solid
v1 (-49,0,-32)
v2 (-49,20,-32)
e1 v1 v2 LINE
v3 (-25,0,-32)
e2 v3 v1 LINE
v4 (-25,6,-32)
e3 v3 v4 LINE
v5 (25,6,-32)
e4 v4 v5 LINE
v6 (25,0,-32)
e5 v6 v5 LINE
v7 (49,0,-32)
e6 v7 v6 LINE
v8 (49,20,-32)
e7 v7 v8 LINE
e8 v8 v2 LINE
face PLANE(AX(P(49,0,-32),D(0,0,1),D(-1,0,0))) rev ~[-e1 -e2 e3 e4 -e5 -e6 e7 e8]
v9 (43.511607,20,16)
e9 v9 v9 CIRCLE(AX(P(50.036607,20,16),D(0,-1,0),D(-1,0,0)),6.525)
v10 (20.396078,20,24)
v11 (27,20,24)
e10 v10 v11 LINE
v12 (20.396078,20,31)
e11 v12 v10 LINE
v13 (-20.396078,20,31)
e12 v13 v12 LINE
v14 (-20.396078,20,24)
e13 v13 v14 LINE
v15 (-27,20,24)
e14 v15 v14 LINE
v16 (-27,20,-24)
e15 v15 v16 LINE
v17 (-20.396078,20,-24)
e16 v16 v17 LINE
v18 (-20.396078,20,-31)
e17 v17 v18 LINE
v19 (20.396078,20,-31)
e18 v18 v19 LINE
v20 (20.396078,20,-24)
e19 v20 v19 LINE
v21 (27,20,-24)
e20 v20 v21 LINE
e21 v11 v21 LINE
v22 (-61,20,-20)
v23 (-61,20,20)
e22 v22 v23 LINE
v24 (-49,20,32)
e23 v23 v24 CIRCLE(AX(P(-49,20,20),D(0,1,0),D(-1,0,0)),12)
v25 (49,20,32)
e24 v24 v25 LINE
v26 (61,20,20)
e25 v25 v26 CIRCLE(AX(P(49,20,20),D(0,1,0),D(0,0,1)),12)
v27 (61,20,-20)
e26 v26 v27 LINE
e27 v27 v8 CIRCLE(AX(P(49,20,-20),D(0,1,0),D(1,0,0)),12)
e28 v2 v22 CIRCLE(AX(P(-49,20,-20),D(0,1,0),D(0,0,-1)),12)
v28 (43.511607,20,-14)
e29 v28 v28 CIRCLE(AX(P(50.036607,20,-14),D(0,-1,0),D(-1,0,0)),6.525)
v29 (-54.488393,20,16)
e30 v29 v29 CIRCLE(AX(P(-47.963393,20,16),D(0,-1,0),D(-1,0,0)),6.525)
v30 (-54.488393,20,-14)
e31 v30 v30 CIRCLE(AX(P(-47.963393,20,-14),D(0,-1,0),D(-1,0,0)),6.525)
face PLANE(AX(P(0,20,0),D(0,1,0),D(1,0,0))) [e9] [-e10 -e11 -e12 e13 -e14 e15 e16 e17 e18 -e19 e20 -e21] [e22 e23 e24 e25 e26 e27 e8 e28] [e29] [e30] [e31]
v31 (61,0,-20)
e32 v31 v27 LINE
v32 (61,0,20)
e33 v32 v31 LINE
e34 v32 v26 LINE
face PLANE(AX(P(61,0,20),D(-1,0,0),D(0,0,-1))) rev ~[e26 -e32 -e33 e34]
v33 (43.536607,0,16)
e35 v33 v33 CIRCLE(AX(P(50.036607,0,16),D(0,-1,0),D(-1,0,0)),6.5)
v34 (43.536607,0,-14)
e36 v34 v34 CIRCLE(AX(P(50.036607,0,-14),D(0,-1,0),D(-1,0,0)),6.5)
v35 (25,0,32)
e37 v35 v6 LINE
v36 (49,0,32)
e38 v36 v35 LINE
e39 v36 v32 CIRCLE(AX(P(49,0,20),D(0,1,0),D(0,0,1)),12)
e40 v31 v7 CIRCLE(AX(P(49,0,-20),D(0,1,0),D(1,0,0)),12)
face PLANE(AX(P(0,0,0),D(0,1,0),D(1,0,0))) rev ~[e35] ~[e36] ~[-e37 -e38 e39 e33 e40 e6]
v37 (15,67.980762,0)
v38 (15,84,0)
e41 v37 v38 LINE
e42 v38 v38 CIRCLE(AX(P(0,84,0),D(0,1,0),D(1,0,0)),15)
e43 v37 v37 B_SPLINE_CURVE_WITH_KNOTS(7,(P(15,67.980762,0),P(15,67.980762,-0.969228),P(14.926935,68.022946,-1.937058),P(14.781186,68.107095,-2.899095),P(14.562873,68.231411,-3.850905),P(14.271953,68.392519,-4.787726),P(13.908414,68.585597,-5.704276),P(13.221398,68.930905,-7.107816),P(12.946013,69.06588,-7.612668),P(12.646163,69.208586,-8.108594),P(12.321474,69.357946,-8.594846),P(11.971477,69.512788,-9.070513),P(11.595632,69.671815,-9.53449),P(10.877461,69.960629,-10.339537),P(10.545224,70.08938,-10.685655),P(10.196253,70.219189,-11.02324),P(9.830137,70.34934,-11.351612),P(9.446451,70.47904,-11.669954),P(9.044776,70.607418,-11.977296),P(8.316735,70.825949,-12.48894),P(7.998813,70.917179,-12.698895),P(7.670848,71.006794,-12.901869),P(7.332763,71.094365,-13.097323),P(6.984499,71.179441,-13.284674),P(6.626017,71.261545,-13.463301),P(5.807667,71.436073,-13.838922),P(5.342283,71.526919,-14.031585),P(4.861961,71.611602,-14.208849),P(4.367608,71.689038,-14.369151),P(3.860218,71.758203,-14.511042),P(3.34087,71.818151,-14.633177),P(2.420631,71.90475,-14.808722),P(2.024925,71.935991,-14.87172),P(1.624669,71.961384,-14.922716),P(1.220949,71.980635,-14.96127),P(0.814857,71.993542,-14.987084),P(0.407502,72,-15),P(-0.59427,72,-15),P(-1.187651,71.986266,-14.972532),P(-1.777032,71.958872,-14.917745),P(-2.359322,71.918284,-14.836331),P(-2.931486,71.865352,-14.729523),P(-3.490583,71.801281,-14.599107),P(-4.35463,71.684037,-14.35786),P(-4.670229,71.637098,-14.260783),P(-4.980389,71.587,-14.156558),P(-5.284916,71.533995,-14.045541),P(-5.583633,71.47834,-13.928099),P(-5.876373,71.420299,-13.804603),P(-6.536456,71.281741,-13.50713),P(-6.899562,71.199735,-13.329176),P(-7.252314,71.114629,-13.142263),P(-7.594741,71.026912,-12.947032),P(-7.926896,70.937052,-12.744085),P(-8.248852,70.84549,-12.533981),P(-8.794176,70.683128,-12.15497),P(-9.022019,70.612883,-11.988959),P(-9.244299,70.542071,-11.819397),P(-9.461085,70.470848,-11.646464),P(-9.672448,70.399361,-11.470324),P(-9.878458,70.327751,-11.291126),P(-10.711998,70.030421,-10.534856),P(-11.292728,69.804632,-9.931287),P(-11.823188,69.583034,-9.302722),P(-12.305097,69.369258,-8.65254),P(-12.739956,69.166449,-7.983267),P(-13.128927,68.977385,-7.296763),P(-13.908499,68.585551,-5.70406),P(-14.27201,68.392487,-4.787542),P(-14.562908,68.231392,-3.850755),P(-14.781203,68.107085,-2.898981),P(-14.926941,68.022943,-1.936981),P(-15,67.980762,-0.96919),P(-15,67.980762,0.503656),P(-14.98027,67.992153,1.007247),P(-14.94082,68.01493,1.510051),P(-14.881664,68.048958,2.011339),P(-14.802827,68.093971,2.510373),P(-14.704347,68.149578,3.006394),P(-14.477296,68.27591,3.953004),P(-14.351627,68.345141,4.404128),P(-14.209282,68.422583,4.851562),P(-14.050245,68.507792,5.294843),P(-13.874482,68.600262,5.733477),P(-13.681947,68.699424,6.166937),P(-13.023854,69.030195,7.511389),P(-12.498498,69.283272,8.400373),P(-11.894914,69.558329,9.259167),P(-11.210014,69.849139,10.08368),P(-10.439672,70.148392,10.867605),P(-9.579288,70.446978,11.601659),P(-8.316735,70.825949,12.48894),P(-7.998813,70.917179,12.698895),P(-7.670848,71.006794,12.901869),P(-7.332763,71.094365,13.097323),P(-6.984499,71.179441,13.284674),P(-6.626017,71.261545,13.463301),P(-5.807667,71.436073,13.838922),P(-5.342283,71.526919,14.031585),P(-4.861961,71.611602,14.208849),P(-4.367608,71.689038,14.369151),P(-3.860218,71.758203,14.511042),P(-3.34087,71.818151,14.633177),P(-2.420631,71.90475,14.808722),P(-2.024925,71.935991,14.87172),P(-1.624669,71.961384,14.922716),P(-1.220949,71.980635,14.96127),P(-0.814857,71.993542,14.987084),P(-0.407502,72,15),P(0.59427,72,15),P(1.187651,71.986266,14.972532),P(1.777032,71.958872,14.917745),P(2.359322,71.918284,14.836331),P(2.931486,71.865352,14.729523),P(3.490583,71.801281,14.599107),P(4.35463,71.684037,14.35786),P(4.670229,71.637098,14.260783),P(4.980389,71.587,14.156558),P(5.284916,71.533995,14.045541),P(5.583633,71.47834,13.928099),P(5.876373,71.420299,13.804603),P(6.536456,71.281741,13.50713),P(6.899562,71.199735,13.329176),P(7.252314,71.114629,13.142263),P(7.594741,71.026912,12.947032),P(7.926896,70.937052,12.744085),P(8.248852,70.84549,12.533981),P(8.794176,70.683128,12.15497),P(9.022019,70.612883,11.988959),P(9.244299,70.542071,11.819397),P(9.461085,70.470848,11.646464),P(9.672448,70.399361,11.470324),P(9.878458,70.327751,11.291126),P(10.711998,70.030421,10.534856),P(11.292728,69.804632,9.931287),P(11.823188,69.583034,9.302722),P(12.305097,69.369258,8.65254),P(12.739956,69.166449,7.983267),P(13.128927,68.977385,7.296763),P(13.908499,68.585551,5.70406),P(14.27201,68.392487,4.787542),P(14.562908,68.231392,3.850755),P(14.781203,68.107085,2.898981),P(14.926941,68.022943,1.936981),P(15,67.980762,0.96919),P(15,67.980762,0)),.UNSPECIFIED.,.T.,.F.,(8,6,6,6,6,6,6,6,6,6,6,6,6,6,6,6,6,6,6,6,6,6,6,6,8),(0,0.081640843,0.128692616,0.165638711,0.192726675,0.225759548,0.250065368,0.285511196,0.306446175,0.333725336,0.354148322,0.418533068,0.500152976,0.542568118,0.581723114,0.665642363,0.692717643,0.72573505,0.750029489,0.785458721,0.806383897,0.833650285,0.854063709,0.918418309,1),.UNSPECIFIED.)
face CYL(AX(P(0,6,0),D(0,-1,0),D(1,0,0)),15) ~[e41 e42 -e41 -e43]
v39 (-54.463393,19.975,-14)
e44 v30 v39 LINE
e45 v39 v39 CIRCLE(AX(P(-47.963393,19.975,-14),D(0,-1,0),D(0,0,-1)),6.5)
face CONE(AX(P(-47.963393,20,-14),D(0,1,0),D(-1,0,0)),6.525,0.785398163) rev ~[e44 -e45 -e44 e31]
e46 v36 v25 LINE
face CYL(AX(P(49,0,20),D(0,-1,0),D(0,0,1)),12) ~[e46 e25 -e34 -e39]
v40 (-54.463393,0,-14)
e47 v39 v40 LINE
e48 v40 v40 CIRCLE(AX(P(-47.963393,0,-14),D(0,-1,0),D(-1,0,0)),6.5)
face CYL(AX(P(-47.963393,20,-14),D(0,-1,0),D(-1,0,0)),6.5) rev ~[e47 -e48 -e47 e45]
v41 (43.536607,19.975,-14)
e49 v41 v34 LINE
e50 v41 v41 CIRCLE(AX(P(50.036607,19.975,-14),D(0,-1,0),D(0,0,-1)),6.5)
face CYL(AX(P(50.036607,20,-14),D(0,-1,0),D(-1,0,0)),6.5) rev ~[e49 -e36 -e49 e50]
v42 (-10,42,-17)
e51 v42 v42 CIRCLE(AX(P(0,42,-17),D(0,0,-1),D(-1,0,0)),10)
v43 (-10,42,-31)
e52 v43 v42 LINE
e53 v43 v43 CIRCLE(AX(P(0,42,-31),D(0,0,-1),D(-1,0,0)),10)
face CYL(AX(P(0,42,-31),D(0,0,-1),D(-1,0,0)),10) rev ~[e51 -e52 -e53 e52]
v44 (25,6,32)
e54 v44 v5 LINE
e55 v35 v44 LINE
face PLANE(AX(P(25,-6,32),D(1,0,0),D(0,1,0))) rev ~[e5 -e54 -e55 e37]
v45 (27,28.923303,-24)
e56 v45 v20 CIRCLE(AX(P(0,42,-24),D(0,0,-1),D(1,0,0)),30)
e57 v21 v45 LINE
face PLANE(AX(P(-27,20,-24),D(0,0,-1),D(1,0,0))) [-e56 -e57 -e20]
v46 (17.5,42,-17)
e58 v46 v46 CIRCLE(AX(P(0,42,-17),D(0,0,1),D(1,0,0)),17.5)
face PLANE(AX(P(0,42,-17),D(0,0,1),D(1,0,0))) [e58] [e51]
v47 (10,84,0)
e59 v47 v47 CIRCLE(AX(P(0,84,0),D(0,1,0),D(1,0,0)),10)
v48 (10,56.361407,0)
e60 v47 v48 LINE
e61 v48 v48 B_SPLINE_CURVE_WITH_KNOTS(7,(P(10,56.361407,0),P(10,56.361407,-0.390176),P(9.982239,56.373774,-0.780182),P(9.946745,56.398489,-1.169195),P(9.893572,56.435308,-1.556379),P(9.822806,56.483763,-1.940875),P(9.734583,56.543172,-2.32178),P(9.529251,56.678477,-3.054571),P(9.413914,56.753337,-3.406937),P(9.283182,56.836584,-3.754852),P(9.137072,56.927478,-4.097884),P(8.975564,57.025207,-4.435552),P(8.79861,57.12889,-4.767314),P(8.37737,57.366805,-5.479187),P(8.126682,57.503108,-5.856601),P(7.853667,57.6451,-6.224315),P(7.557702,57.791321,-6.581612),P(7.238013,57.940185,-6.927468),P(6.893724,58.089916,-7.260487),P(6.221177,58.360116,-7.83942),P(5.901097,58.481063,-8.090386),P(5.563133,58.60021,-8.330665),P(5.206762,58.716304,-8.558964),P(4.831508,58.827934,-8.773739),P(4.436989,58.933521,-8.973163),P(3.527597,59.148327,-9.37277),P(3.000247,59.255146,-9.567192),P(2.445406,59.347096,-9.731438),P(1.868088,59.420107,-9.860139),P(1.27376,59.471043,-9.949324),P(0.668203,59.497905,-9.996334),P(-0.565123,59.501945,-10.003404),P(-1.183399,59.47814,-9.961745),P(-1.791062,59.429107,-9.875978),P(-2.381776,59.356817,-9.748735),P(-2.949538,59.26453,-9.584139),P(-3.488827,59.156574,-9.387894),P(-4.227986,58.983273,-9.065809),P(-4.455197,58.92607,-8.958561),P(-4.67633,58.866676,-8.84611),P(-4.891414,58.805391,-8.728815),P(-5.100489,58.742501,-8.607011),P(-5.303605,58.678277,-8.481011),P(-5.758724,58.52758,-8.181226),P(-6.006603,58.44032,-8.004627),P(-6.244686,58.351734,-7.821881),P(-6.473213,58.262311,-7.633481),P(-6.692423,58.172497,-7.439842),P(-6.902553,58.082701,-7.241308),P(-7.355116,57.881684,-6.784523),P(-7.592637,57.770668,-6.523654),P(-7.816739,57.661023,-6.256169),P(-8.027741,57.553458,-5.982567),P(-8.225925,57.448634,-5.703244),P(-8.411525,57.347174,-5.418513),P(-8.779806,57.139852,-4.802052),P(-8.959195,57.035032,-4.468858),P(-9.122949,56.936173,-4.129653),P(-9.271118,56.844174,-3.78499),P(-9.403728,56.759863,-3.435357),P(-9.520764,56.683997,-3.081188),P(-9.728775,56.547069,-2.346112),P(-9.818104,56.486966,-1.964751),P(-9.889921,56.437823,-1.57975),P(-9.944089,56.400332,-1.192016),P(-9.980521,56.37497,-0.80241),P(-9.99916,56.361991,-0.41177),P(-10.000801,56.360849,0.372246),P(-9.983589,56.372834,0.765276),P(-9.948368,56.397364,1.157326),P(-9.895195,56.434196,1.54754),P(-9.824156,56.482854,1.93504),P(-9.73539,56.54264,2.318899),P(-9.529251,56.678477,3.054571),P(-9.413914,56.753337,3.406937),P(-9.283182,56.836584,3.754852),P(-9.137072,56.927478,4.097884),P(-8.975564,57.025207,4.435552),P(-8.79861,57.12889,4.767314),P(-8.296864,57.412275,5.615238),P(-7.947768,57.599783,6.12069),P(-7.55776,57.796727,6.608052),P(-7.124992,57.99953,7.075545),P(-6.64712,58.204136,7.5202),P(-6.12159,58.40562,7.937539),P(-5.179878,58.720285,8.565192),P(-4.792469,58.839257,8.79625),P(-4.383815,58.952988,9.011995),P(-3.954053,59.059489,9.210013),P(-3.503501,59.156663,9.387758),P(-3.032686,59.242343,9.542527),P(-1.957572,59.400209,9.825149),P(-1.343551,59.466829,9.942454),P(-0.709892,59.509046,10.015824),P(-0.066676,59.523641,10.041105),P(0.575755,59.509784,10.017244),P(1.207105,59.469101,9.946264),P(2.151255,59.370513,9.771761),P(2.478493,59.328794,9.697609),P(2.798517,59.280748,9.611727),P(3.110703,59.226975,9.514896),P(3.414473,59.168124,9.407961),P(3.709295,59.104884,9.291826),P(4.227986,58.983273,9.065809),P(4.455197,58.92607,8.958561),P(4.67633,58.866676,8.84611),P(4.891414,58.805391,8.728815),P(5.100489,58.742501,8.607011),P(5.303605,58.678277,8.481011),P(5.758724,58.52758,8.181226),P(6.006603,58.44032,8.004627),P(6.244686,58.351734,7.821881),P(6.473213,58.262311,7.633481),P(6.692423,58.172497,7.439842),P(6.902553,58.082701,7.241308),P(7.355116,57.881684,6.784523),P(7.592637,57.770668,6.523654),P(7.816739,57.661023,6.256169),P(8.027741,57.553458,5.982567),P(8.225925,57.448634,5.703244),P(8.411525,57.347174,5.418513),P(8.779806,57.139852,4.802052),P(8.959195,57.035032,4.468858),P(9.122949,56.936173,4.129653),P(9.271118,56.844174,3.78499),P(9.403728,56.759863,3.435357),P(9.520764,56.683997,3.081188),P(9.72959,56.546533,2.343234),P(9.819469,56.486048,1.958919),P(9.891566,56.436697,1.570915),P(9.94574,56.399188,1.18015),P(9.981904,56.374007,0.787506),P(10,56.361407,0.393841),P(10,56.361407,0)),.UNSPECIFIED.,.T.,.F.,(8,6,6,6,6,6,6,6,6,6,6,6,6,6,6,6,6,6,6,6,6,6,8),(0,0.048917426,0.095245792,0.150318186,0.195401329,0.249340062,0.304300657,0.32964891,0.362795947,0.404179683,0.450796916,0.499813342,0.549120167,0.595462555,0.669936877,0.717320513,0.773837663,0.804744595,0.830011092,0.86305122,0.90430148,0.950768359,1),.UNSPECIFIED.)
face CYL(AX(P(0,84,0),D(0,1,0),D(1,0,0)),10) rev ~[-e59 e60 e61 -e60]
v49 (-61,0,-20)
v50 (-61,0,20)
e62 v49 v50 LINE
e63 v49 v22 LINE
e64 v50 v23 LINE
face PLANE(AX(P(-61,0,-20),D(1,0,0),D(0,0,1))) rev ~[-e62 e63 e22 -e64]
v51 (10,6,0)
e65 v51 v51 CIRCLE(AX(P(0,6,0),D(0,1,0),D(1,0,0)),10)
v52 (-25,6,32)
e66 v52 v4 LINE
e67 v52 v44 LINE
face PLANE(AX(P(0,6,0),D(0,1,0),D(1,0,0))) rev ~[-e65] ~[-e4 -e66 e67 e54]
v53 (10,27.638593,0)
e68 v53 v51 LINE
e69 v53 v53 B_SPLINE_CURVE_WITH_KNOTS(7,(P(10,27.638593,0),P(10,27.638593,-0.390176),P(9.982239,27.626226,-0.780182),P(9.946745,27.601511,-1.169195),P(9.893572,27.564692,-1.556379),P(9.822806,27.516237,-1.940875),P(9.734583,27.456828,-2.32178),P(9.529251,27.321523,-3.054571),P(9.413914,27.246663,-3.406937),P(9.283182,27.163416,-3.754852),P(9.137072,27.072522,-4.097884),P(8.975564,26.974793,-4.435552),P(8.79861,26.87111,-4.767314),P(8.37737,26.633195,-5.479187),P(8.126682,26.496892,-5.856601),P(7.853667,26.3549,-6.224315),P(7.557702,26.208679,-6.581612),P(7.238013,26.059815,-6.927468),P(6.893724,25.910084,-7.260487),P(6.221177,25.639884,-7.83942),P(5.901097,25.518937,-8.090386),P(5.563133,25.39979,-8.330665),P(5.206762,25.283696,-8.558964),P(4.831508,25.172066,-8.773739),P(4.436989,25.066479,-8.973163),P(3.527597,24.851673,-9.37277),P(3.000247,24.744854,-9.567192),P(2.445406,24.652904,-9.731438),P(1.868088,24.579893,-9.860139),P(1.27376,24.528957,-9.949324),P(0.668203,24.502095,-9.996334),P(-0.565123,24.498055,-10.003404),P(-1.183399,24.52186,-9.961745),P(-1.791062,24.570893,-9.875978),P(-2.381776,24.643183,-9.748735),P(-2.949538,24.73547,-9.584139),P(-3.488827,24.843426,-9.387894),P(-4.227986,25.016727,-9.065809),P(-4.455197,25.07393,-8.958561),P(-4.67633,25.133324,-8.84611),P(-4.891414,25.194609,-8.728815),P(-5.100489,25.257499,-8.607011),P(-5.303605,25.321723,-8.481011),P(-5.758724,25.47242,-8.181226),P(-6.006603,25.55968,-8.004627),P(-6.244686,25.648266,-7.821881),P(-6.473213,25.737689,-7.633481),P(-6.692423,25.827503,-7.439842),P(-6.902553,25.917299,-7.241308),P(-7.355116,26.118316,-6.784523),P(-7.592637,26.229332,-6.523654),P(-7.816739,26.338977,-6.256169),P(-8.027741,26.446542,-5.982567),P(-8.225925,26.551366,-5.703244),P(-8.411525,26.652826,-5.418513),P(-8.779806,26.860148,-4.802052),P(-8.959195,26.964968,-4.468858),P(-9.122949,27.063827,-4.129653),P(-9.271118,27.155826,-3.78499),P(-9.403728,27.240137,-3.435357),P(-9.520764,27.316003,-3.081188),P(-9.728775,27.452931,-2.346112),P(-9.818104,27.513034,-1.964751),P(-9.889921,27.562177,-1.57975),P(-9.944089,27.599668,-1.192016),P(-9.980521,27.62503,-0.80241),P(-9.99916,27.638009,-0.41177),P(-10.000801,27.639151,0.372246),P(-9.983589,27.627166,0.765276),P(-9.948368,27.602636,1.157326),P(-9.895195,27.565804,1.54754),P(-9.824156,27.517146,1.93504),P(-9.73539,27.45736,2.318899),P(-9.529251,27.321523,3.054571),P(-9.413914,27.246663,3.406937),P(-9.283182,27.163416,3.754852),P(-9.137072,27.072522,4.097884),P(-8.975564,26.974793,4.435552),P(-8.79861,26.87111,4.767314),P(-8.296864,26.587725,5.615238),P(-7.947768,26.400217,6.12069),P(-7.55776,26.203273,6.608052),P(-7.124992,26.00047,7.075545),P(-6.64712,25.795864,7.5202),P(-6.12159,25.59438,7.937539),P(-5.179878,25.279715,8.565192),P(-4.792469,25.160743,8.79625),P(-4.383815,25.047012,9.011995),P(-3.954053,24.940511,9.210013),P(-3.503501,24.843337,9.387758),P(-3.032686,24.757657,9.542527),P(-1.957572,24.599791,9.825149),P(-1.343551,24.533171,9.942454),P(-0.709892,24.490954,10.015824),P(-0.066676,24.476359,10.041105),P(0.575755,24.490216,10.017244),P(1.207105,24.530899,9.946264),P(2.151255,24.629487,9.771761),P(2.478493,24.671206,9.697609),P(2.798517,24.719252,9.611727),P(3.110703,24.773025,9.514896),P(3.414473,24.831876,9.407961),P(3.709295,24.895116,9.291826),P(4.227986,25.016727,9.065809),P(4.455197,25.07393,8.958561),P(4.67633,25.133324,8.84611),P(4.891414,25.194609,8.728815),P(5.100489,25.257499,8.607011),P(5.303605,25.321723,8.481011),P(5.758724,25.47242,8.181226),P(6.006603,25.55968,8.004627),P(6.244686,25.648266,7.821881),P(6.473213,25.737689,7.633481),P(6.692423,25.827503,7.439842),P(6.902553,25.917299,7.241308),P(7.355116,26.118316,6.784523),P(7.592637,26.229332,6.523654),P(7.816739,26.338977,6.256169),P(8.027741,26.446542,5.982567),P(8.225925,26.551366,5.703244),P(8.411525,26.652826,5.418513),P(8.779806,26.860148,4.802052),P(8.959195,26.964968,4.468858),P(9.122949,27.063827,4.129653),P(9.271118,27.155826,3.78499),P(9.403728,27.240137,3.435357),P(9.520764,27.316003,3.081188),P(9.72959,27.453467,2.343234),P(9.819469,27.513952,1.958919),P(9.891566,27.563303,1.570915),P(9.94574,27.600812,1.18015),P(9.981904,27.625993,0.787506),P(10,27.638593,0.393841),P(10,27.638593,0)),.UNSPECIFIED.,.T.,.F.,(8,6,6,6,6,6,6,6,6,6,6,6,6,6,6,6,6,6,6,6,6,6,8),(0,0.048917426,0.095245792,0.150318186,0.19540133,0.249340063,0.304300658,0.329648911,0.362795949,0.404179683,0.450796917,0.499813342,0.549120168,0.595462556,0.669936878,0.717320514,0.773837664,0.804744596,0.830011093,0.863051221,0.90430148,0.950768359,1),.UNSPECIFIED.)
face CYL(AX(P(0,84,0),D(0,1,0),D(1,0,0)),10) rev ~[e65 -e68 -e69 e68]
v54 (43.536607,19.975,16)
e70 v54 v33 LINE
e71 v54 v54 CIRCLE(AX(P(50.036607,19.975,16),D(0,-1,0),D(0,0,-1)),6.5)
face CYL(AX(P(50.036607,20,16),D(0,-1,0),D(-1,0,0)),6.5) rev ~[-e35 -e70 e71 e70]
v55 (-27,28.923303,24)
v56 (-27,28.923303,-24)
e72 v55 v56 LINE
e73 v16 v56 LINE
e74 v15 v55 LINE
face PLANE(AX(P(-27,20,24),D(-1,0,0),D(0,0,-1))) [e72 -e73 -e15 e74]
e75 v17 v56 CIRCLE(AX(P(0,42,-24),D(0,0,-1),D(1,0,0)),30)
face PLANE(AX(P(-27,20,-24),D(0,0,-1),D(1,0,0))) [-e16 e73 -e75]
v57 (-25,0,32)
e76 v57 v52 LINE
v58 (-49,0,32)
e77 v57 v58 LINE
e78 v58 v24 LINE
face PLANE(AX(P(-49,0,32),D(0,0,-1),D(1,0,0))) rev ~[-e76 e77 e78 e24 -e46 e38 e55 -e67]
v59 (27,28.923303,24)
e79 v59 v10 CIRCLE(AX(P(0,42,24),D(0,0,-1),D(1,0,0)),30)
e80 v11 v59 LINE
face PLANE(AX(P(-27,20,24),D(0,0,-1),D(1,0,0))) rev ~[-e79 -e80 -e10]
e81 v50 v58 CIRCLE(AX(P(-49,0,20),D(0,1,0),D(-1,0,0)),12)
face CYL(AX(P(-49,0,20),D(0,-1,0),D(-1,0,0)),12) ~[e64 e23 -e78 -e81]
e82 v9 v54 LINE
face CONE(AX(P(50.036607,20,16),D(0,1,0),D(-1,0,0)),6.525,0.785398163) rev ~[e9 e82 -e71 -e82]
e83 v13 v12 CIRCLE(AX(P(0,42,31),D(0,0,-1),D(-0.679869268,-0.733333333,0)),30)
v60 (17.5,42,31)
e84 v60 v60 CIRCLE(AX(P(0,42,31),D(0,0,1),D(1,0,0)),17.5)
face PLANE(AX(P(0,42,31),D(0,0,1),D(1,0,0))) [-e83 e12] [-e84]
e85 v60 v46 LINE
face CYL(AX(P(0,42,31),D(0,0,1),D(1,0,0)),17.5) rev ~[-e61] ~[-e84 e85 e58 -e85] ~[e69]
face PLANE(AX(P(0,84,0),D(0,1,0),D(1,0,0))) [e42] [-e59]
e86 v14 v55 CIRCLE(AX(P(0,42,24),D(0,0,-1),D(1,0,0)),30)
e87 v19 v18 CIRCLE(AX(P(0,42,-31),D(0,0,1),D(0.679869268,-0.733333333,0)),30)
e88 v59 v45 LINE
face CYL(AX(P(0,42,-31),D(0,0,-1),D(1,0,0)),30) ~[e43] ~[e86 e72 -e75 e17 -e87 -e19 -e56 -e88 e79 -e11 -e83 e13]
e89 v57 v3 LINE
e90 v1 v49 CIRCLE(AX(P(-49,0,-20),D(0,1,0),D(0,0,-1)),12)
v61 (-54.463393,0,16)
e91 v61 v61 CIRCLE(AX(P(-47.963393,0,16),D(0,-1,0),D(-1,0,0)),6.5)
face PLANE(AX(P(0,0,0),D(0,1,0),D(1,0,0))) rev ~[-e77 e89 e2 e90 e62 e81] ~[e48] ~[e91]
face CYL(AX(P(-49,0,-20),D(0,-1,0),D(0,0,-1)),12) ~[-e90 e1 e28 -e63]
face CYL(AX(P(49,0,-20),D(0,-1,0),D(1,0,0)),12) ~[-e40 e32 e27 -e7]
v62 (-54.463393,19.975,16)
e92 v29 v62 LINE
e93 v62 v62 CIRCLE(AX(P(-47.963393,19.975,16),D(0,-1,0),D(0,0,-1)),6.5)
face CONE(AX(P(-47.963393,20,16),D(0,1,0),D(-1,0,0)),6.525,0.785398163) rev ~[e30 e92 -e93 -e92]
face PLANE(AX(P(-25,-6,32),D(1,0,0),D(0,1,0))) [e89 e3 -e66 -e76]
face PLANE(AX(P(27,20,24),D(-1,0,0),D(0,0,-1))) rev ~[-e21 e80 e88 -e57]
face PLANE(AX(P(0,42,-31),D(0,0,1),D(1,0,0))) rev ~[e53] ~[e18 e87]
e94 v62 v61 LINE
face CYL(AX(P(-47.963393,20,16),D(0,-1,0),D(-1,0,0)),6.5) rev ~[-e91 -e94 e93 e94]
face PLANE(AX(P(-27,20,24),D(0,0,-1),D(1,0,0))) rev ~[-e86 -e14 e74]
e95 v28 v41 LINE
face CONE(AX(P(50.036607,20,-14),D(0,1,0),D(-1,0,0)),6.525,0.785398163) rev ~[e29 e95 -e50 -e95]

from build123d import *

# Parameters (mm, degrees)
EXTRUDE_12_DEPTH                  = 20
SKETCH_13_W                       = 54
SKETCH_13_H                       = 48
EXTRUDE_13_DEPTH                  = 22
EXTRUDE_START                     = -55
SKETCH_14_R                       = 30
EXTRUDE_14_DEPTH                  = 62
SKETCH_19_W                       = 50
SKETCH_19_H                       = 12
CUT_EXTRUDE_3_DEPTH               = 1
CUT_EXTRUDE_3_DEPTH_BACK          = 65
EXTRUDE_START_2                   = 6
SKETCH_20_R                       = 15
EXTRUDE_17_DEPTH                  = 78
SKETCH_21_R                       = 10
CUT_EXTRUDE_4_DEPTH               = 1.0000001
CUT_EXTRUDE_4_DEPTH_BACK          = 85
SKETCH_23_R                       = 17.5
CUT_EXTRUDE_7_DEPTH               = 48
SKETCH_25_R                       = 10
CUT_EXTRUDE_8_DEPTH               = 17
HOLE_WIZARD_13_0_13_2_D           = 13
HOLE_WIZARD_13_0_13_2_CSINK_D     = 13.05
HOLE_WIZARD_13_0_13_2_CSINK_ANGLE = 90


with BuildPart() as part:
    # Эскиз12 → Бобышка-Вытянуть12 (new body)
    with BuildSketch(Plane(origin=(0, 0, 0), x_dir=(1, 0, 0), z_dir=(0, 1, 0))):
        with BuildLine():
            Line((-49, -32), (49, -32))
            ThreePointArc((49, -32), (57.485281374, -28.485281374), (61, -20))
            Line((61, -20), (61, 20))
            ThreePointArc((61, 20), (57.485281374, 28.485281374), (49, 32))
            Line((49, 32), (-49, 32))
            ThreePointArc((-49, 32), (-57.485281374, 28.485281374), (-61, 20))
            Line((-61, 20), (-61, -20))
            ThreePointArc((-61, -20), (-57.485281374, -28.485281374), (-49, -32))
        make_face()
    extrude(amount=EXTRUDE_12_DEPTH)

    # Эскиз13 → Бобышка-Вытянуть13 (add)
    with BuildSketch(Plane(origin=(0, 20, 0), x_dir=(1, 0, 0), z_dir=(0, 1, 0))):
        Rectangle(SKETCH_13_W, SKETCH_13_H)
    extrude(amount=EXTRUDE_13_DEPTH)

    # Эскиз14 → Бобышка-Вытянуть14 (add)
    with BuildSketch(Plane.XY.offset(24).offset(EXTRUDE_START)):
        with Locations((0, 42)):
            Circle(SKETCH_14_R)
    extrude(amount=EXTRUDE_14_DEPTH)

    # Эскиз19 → Вырез-Вытянуть3 (cut, two sides)
    with BuildSketch(Plane.XY.offset(32)) as cut_extrude_3_sk:
        Rectangle(SKETCH_19_W, SKETCH_19_H)
    extrude(amount=CUT_EXTRUDE_3_DEPTH, mode=Mode.SUBTRACT)
    extrude(cut_extrude_3_sk.sketch, amount=-CUT_EXTRUDE_3_DEPTH_BACK, mode=Mode.SUBTRACT)

    # Эскиз20 → Бобышка-Вытянуть17 (add)
    with BuildSketch(Plane(origin=(0, 0, 0), x_dir=(1, 0, 0), z_dir=(0, 1, 0)).offset(EXTRUDE_START_2)):
        Circle(SKETCH_20_R)
    extrude(amount=EXTRUDE_17_DEPTH)

    # Эскиз21 → Вырез-Вытянуть4 (cut, two sides)
    with BuildSketch(Plane(origin=(0, 84, 0), x_dir=(1, 0, 0), z_dir=(0, 1, 0))) as cut_extrude_4_sk:
        Circle(SKETCH_21_R)
    extrude(amount=CUT_EXTRUDE_4_DEPTH, mode=Mode.SUBTRACT)
    extrude(cut_extrude_4_sk.sketch, amount=-CUT_EXTRUDE_4_DEPTH_BACK, mode=Mode.SUBTRACT)

    # Эскиз23 → Вырез-Вытянуть7 (cut)
    with BuildSketch(Plane.XY.offset(31)):
        with Locations((0, 42)):
            Circle(SKETCH_23_R)
    extrude(amount=-CUT_EXTRUDE_7_DEPTH, mode=Mode.SUBTRACT)

    # Эскиз25 → Вырез-Вытянуть8 (cut)
    with BuildSketch(Plane(origin=(0, 0, -31), x_dir=(-1, 0, 0), z_dir=(0, 0, -1))):
        with Locations((0, 42)):
            Circle(SKETCH_25_R)
    extrude(amount=-CUT_EXTRUDE_8_DEPTH, mode=Mode.SUBTRACT)

    # Диаметр отверстия Ø13.0 (13)2 (through all)
    with Locations(Plane(origin=(0, 20, 0), x_dir=(1, 0, 0), z_dir=(0, 1, 0))):
        with Locations((-47.963392627, 14), (-47.963392627, -16), (50.036607373, -16), (50.036607373, 14)):
            CounterSinkHole(HOLE_WIZARD_13_0_13_2_D / 2, HOLE_WIZARD_13_0_13_2_CSINK_D / 2, counter_sink_angle=HOLE_WIZARD_13_0_13_2_CSINK_ANGLE)


solid = part.part
